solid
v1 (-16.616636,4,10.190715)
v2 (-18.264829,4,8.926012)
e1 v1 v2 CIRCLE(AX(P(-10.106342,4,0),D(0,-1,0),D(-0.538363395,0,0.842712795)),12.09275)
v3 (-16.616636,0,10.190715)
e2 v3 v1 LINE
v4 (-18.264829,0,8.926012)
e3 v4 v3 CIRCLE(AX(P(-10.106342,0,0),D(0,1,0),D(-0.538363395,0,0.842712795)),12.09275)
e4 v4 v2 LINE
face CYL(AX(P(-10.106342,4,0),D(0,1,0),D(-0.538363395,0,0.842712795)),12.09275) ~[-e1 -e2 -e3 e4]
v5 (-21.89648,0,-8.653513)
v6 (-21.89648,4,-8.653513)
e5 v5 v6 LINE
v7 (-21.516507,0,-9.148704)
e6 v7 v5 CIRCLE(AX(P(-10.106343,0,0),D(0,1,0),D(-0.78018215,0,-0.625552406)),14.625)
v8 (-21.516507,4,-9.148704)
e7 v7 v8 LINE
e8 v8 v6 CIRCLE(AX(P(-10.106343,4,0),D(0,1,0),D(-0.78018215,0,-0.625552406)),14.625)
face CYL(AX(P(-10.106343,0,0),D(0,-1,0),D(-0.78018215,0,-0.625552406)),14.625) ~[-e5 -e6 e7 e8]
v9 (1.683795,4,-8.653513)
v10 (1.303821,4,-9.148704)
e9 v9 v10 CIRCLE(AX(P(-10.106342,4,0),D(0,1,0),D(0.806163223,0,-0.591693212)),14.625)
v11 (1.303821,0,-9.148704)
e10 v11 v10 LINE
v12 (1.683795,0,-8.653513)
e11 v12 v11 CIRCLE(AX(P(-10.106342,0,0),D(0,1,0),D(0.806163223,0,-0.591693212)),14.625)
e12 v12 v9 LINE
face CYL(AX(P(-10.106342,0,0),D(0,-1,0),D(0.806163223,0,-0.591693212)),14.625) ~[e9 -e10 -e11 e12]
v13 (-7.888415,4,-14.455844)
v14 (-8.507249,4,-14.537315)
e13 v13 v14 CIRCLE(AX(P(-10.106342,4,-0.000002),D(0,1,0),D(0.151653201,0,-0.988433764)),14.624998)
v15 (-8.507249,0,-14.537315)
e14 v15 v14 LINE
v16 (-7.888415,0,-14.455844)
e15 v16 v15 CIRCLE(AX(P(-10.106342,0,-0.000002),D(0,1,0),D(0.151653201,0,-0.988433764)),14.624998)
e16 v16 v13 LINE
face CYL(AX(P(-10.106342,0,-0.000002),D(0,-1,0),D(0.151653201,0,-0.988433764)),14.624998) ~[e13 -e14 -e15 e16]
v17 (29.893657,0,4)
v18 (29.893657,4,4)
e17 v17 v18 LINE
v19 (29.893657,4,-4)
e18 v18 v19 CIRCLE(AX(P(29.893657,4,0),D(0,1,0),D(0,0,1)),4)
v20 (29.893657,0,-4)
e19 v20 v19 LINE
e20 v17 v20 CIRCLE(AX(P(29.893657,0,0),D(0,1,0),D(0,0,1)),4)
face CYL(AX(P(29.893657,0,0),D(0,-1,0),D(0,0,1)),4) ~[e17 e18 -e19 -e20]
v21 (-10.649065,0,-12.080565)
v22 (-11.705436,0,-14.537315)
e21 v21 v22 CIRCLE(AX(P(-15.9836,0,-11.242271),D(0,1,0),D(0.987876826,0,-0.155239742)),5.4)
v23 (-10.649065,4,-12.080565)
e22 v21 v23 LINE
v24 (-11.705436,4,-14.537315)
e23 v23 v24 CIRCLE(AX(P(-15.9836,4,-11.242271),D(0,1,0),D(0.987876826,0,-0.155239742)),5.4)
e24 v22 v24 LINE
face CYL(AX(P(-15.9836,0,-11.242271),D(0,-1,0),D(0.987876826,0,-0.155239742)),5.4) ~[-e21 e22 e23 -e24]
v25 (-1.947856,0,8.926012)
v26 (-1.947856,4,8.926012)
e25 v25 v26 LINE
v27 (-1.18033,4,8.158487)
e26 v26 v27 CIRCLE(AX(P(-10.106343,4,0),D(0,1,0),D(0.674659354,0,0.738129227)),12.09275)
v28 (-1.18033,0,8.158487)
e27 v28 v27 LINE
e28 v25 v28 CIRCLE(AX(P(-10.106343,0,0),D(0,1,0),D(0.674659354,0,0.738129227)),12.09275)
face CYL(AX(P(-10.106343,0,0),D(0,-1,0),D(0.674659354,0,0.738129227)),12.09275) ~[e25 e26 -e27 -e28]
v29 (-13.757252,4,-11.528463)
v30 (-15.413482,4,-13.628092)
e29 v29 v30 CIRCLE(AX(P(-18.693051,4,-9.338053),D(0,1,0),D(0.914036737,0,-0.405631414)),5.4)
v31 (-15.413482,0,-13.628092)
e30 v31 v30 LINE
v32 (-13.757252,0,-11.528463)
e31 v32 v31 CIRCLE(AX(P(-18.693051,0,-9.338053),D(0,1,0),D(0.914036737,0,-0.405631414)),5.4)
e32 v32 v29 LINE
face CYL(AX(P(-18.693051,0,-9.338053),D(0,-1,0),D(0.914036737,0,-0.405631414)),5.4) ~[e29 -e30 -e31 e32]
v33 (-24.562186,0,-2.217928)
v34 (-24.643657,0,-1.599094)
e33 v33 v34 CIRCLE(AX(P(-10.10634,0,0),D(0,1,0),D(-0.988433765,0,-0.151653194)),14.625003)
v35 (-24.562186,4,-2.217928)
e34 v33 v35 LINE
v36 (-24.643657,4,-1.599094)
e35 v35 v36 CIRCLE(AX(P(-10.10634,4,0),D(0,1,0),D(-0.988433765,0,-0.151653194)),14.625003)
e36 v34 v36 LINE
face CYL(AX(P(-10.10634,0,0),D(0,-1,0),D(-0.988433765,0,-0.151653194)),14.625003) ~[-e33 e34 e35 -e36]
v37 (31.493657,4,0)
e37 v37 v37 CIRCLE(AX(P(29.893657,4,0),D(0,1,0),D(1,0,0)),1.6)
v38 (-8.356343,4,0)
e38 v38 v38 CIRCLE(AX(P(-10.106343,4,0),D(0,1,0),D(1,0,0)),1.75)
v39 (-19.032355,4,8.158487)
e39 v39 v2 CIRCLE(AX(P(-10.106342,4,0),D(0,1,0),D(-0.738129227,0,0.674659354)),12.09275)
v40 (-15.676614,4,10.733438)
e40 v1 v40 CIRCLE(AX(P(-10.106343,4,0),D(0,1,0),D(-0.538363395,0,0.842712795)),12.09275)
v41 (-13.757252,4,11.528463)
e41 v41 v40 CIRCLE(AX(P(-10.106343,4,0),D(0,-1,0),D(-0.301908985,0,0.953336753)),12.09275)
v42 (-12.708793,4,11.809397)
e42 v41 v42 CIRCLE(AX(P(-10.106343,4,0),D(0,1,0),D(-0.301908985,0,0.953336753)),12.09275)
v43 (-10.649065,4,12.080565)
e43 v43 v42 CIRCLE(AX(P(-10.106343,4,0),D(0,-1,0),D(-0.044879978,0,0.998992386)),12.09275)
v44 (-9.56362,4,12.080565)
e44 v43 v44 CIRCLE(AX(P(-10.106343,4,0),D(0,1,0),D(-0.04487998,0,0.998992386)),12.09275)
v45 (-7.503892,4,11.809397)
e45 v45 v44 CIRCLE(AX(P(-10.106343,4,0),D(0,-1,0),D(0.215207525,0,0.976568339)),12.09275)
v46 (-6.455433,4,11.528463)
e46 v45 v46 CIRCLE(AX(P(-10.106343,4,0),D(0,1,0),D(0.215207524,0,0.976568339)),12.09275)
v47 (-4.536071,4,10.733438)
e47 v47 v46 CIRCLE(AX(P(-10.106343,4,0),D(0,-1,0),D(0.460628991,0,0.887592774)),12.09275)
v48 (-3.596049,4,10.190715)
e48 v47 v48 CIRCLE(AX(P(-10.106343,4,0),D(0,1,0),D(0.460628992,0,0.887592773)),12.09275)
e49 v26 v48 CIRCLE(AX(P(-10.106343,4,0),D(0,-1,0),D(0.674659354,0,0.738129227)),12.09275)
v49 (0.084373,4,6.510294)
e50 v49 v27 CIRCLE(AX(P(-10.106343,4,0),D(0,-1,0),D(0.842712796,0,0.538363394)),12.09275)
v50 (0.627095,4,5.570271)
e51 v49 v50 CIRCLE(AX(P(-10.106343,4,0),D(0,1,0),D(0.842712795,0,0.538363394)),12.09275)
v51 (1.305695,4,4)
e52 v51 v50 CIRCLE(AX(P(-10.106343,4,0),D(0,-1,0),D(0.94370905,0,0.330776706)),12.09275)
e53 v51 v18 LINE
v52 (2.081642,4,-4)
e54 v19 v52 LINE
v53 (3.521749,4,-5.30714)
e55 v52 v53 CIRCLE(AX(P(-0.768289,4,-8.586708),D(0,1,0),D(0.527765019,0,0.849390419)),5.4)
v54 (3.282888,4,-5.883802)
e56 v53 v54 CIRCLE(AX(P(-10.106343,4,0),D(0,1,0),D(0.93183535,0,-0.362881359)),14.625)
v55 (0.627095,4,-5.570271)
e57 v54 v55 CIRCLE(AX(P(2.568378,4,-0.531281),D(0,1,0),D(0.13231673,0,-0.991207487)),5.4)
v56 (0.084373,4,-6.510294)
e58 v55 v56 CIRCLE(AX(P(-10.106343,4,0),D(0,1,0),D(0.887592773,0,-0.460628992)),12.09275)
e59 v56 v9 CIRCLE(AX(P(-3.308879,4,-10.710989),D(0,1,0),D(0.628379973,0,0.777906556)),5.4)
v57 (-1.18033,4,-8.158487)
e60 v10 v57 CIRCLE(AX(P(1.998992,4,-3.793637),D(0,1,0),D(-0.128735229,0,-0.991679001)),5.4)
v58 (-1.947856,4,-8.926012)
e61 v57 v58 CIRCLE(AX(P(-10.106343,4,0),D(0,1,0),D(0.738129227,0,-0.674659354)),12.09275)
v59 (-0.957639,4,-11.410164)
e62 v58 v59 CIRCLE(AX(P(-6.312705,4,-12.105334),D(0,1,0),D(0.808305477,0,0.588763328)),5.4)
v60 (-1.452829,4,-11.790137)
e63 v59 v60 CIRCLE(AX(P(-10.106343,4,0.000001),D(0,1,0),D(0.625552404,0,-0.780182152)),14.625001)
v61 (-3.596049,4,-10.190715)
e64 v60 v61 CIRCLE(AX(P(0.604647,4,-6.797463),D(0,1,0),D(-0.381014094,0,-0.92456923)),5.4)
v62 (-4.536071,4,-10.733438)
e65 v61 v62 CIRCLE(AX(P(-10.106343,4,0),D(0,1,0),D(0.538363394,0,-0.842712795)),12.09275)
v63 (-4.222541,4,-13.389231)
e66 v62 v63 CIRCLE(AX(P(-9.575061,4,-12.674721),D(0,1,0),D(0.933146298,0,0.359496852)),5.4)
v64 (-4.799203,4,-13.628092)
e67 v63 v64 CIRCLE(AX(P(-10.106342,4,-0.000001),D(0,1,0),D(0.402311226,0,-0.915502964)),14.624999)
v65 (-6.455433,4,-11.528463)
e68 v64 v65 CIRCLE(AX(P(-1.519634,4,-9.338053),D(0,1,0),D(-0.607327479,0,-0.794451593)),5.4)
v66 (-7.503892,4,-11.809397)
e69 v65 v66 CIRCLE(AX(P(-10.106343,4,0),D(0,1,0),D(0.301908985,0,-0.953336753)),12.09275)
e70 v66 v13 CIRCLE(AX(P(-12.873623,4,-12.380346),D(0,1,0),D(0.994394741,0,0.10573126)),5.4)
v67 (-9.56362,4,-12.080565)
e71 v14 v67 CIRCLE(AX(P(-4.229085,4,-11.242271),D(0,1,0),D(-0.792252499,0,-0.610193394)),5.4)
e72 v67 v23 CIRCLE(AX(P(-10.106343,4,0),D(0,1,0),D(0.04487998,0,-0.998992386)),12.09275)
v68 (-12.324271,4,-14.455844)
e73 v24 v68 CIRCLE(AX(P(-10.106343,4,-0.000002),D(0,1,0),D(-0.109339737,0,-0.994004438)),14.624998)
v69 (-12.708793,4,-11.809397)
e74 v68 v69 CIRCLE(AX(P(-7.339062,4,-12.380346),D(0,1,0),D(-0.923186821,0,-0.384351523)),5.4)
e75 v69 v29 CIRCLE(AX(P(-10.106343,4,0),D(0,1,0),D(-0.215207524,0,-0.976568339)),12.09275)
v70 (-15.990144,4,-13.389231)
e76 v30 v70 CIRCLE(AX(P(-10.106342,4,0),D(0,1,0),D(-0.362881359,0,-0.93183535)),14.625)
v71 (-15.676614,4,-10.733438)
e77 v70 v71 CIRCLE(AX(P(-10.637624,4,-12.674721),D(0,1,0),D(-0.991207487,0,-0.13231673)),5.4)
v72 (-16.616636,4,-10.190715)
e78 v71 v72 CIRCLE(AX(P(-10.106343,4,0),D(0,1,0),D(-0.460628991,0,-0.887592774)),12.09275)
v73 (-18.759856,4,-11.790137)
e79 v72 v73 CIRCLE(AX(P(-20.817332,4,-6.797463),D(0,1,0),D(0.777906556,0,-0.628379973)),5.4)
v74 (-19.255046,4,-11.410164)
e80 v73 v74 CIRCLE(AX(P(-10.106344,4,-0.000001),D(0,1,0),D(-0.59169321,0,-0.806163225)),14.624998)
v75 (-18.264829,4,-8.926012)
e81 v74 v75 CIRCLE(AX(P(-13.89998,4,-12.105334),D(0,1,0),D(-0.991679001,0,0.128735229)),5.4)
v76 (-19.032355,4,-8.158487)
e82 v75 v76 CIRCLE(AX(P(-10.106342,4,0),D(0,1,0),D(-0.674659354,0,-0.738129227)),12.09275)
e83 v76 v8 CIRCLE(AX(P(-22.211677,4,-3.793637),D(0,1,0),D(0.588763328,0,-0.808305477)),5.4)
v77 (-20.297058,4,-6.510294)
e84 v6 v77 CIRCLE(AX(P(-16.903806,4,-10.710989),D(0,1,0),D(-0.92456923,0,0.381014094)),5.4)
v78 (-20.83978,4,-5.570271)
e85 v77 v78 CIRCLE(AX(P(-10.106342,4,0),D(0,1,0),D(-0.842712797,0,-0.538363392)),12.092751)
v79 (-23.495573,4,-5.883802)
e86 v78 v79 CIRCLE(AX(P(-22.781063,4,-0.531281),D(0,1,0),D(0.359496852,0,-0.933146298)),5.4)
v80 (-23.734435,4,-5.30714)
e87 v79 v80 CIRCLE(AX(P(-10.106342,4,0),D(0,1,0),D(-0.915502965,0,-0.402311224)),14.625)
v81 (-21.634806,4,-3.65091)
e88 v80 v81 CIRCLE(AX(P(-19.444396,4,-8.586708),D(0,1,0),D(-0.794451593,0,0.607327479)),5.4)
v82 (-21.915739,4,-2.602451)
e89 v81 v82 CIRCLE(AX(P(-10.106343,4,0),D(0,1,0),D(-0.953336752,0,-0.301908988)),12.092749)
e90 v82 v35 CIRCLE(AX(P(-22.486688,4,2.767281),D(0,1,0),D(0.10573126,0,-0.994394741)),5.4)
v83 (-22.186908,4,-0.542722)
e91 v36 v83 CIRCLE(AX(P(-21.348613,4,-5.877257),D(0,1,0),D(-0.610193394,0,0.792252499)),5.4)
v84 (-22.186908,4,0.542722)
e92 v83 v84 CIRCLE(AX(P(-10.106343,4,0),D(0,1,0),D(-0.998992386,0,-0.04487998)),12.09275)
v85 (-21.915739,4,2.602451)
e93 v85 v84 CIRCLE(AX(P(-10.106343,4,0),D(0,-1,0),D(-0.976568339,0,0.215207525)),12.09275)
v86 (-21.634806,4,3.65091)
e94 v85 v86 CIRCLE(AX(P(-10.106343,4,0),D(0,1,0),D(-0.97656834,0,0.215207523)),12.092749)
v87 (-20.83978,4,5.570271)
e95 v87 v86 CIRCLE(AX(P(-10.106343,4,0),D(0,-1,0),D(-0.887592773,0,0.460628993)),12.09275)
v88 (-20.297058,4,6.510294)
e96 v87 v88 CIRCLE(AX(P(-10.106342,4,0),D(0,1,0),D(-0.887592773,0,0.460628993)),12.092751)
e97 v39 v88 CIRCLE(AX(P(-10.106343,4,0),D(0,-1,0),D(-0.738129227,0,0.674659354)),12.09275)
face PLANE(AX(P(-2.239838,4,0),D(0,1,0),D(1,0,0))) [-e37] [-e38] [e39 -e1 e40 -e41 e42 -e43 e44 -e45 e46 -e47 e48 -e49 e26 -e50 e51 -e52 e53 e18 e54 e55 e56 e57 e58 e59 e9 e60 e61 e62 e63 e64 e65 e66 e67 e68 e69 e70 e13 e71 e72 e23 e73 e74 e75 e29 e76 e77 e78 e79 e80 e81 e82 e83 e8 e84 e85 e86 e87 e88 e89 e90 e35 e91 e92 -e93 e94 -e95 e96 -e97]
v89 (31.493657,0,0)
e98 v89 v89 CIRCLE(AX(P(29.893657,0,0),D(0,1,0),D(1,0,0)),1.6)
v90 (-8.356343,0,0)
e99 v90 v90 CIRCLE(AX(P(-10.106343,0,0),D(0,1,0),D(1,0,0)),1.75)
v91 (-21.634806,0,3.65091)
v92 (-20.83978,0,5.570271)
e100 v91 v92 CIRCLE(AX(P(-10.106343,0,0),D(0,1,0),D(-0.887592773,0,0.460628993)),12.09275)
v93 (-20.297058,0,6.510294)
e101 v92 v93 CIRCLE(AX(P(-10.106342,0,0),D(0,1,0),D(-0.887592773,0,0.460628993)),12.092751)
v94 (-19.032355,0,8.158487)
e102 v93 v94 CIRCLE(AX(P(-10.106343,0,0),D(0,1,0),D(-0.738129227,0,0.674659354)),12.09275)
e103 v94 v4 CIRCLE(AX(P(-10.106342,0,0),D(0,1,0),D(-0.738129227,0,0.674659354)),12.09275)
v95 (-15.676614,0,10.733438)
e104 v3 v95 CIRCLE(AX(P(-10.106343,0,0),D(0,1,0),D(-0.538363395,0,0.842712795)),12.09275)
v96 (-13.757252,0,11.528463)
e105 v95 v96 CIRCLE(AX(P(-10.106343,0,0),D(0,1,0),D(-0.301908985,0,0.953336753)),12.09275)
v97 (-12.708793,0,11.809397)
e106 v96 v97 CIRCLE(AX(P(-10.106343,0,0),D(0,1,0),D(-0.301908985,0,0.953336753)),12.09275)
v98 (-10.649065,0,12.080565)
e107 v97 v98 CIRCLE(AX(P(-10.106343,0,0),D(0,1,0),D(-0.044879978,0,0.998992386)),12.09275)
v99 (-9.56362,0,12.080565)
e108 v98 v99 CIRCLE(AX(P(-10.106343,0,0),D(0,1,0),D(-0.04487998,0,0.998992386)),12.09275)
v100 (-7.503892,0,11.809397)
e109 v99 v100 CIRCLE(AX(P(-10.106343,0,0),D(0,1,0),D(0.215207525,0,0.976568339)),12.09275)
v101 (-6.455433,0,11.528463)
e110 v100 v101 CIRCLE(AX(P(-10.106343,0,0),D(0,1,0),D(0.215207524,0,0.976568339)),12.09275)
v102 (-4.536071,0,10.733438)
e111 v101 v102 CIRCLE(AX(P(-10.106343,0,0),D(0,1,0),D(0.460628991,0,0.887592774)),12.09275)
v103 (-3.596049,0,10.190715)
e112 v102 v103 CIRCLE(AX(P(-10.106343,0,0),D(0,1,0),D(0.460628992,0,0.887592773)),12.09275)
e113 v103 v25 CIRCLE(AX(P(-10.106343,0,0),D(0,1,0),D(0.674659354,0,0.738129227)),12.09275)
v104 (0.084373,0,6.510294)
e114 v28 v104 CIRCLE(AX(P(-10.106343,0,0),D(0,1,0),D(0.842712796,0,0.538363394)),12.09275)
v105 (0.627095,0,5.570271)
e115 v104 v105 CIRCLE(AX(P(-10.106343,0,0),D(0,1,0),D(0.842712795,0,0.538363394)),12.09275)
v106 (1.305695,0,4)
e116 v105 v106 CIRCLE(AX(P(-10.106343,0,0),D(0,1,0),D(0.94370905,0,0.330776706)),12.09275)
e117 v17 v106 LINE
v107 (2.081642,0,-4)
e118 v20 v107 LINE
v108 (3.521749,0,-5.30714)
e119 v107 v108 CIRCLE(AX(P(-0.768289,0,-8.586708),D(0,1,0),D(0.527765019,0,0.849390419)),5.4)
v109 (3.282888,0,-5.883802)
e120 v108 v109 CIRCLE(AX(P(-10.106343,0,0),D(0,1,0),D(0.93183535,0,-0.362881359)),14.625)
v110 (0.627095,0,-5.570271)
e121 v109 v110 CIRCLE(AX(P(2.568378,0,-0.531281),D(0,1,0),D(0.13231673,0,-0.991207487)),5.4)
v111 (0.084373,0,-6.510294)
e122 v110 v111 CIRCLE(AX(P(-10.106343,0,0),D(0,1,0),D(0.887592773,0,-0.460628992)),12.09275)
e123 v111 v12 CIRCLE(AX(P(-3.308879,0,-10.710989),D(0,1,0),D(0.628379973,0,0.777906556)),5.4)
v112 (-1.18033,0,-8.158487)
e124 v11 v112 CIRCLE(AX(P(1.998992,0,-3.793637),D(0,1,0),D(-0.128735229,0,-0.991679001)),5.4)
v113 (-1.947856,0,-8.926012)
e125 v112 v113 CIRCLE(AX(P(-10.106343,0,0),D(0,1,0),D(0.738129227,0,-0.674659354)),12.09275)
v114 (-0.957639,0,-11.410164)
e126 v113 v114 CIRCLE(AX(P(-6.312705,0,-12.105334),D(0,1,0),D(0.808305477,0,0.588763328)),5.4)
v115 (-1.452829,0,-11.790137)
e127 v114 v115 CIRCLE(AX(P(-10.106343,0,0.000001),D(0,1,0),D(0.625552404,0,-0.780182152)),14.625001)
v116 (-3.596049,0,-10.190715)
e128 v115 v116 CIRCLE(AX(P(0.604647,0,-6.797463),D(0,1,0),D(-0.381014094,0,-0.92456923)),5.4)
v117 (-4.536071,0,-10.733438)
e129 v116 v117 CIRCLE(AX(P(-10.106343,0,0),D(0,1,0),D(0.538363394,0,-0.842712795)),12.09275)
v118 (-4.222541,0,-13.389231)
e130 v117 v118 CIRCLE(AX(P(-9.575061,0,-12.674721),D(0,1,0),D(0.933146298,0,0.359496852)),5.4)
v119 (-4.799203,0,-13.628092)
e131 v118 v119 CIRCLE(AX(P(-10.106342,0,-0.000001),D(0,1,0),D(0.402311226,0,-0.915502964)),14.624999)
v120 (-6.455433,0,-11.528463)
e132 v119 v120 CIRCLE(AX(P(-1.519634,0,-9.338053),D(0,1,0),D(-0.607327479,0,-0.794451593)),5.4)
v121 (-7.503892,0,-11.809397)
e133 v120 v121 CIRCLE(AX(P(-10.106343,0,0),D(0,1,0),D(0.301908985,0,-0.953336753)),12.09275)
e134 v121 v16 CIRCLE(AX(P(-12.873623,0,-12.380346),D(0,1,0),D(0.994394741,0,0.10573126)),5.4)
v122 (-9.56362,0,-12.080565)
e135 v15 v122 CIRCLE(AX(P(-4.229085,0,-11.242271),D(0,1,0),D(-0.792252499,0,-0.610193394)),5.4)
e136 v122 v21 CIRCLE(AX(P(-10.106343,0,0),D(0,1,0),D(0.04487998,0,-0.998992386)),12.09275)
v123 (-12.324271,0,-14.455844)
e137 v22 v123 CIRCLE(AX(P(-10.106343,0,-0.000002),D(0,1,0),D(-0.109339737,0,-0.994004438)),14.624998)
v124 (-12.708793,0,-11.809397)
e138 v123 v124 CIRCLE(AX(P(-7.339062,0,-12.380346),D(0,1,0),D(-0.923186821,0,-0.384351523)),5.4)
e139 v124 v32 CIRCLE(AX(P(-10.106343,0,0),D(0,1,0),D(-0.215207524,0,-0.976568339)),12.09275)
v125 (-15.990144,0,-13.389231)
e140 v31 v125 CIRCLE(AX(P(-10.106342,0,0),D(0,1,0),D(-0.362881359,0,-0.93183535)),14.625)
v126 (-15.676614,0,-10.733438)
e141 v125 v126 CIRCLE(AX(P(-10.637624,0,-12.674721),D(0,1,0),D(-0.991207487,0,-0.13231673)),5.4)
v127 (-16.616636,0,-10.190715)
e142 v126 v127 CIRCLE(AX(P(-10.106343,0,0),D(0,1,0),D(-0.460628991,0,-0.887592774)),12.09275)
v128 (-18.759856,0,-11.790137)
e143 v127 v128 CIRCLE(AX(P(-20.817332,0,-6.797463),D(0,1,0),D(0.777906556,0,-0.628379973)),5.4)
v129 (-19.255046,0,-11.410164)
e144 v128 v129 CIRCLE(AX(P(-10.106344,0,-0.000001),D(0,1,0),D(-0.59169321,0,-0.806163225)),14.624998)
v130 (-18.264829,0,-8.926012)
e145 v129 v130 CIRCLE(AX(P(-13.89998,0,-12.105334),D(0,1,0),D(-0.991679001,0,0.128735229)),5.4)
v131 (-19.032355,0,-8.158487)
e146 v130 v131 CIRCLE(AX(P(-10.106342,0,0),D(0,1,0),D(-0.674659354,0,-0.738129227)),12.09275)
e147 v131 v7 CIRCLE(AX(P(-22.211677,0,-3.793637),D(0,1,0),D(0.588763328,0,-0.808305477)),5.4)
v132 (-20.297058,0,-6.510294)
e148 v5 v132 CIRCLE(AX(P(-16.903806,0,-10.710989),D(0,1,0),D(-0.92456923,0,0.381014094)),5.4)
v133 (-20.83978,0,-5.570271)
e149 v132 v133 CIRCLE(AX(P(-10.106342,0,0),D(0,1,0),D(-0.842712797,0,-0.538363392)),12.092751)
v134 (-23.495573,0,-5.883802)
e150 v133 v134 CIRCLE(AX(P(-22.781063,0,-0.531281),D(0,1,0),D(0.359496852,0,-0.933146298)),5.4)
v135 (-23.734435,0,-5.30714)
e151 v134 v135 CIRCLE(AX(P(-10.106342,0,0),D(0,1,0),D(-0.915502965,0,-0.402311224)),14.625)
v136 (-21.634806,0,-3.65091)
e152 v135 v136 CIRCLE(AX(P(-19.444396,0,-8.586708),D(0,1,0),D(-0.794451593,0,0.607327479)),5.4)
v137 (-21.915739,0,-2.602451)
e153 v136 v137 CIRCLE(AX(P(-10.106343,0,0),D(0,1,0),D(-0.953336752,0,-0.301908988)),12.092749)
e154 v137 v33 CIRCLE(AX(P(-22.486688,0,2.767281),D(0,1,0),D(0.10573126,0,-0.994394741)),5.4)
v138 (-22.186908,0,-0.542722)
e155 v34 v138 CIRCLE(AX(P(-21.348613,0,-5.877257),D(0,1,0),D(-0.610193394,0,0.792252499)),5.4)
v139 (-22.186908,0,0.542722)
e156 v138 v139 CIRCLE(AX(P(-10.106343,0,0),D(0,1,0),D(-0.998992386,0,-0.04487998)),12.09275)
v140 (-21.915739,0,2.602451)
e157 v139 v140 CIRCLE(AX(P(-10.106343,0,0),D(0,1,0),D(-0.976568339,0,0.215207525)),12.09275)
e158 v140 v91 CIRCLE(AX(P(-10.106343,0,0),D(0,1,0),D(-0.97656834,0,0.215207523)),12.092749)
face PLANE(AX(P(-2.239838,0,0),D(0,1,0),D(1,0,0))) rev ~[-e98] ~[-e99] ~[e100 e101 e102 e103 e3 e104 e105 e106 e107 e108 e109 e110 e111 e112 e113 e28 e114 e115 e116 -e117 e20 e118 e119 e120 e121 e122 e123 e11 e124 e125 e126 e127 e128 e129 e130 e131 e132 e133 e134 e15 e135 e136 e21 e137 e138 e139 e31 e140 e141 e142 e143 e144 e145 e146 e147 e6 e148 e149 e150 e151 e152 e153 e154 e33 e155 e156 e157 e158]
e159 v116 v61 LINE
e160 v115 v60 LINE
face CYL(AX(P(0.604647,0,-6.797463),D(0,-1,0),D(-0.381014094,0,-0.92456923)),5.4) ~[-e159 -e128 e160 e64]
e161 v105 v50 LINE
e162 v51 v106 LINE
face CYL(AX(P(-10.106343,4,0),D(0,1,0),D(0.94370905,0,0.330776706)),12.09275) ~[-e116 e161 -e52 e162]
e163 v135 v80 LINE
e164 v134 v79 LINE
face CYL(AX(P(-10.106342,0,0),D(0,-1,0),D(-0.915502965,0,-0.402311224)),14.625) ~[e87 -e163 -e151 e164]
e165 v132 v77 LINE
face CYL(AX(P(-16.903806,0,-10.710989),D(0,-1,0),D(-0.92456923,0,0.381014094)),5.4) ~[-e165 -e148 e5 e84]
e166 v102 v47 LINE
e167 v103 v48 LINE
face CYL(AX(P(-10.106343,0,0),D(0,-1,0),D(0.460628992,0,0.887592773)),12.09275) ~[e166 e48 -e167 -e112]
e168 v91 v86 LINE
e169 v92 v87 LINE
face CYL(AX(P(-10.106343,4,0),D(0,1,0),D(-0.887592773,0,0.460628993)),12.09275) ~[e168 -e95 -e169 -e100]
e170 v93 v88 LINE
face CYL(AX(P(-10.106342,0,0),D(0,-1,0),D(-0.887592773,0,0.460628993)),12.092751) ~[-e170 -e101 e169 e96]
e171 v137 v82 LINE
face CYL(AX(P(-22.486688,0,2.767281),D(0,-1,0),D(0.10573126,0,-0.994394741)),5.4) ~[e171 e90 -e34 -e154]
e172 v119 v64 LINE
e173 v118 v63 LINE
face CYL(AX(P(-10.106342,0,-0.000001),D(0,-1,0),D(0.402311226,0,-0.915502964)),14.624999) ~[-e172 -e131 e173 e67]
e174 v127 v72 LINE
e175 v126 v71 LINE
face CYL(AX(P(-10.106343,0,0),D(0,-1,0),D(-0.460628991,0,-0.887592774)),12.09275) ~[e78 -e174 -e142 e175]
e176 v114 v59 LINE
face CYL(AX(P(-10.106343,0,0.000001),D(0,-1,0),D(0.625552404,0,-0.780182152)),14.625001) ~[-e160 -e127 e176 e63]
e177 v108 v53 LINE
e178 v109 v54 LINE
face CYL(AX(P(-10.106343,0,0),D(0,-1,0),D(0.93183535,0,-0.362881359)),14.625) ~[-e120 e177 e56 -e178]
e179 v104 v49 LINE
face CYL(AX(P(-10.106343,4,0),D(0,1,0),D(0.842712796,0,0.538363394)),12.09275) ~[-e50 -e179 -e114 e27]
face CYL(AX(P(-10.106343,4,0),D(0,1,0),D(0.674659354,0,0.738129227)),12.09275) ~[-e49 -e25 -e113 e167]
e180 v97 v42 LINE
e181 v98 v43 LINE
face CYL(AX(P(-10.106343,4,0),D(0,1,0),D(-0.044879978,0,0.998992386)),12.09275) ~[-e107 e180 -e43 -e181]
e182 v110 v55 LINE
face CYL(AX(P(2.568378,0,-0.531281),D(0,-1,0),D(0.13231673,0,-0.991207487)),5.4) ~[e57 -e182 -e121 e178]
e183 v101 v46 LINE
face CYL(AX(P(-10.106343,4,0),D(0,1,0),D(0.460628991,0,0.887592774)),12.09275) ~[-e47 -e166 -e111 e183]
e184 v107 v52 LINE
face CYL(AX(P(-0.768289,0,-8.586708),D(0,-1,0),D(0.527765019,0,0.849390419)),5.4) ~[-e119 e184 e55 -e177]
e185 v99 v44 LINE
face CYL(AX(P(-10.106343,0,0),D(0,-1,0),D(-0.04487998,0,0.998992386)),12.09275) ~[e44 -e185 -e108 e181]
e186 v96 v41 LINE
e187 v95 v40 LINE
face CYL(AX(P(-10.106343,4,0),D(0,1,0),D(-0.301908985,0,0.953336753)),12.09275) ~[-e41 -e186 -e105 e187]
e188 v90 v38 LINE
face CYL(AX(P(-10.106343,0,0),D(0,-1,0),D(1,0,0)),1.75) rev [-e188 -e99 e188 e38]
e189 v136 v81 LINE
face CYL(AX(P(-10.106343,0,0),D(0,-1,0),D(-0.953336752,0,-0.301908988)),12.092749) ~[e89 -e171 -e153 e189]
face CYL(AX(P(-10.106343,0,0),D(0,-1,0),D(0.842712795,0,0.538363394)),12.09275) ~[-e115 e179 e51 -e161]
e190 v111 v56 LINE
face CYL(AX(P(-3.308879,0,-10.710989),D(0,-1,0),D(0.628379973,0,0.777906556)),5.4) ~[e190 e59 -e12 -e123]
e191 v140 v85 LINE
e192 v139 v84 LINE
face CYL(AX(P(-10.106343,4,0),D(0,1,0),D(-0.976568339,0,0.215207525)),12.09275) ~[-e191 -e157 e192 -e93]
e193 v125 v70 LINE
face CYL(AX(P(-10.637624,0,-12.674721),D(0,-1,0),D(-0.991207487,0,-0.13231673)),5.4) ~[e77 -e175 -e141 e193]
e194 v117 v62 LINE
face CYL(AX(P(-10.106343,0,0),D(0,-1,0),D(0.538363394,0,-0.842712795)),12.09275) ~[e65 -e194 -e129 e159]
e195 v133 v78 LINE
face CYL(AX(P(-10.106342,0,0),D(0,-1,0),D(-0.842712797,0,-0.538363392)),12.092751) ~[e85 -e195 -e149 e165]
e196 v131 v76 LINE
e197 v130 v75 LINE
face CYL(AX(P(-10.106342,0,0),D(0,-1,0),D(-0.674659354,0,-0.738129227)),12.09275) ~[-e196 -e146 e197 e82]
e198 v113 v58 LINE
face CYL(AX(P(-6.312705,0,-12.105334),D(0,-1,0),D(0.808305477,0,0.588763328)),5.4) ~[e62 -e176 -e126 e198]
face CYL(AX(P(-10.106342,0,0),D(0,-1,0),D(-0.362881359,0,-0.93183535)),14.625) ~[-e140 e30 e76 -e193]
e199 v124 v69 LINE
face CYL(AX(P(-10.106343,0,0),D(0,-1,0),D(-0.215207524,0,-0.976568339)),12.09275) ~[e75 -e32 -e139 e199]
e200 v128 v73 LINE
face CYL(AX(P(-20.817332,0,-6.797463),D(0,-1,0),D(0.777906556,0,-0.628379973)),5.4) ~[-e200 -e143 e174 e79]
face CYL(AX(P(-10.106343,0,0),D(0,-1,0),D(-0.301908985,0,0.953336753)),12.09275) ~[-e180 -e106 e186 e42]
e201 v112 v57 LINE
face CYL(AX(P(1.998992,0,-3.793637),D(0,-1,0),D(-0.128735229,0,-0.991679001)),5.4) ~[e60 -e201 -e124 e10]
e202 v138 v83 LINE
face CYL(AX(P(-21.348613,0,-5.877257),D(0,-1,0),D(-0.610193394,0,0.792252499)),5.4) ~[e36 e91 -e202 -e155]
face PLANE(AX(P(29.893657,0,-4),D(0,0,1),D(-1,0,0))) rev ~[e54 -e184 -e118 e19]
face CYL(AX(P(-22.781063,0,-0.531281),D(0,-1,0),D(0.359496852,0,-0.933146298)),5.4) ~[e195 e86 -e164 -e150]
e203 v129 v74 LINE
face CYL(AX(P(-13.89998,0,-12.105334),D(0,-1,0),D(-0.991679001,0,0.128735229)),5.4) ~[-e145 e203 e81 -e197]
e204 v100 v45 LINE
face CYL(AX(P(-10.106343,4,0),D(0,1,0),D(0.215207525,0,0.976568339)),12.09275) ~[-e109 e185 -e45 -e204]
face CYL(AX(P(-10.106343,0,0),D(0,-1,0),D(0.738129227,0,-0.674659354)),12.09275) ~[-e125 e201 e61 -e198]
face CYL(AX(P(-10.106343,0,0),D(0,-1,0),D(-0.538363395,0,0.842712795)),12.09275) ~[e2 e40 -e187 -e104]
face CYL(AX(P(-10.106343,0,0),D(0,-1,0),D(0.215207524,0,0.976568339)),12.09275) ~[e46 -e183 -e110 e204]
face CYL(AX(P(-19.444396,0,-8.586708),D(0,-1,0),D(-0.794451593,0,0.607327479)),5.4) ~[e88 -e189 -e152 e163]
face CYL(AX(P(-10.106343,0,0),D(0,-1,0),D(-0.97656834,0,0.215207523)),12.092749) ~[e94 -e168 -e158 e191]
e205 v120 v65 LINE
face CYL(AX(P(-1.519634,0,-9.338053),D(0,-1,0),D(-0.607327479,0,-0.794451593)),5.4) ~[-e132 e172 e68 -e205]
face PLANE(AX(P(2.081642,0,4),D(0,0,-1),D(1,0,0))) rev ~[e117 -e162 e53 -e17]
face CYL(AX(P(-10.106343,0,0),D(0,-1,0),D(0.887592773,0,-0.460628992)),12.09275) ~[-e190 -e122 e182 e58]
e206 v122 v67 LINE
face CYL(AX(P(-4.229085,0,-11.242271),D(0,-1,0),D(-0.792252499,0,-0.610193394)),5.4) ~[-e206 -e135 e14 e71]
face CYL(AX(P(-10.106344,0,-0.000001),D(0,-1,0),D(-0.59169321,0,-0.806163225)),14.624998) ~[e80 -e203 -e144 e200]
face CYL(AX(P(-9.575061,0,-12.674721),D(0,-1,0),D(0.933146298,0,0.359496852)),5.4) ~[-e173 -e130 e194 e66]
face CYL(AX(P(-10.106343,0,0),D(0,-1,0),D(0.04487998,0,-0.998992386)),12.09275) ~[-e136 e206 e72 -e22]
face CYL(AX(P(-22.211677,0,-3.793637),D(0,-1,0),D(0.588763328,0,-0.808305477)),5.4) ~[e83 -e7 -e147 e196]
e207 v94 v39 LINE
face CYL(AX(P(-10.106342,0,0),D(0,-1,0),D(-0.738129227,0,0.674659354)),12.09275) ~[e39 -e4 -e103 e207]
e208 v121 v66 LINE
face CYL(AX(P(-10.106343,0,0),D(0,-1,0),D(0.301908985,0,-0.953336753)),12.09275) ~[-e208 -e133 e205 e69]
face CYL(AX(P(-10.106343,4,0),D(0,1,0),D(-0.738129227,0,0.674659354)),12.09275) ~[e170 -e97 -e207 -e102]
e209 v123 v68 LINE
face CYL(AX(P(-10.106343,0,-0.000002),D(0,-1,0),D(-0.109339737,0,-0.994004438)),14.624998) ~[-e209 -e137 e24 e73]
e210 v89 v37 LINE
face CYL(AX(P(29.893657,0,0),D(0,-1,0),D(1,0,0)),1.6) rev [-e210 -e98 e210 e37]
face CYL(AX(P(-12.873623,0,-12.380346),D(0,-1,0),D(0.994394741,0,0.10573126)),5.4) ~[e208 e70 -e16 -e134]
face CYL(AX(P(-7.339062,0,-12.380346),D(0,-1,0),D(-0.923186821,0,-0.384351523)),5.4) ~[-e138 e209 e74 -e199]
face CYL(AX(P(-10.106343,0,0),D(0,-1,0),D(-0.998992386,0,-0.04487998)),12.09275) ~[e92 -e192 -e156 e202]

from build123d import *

# Parameters (mm, degrees)
SKETCH1_R           = 1.75
SKETCH1_R_2         = 1.6
BOSS_EXTRUDE1_DEPTH = 4
CUT_EXTRUDE1_DEPTH  = 10


with BuildPart() as part:
    # Sketch1 → Boss-Extrude1 (new body)
    with BuildSketch(Plane(origin=(0, 0, 0), x_dir=(1, 0, 0), z_dir=(0, 1, 0))):
        with BuildLine():
            Line((29.893657446, 4), (2.081641936, 4))
            ThreePointArc((2.081641936, 4), (2.861028333, 4.588201733), (3.521749436, 5.30713988))
            ThreePointArc((3.521749436, 5.30713988), (3.405395609, 5.596745198), (3.282888305, 5.883801663))
            ThreePointArc((3.282888305, 5.883801663), (1.93527598, 5.894040025), (0.627094961, 5.57027124))
            ThreePointArc((0.627094961, 5.57027124), (0.366286148, 6.046375), (0.084372603, 6.510293938))
            ThreePointArc((0.084372603, 6.510293938), (1.018855105, 7.48132754), (1.683794586, 8.65351323))
            ThreePointArc((1.683794586, 8.65351323), (1.496450048, 8.903135899), (1.303821399, 9.148703928))
            ThreePointArc((1.303821399, 9.148703928), (-0.000522033, 8.809805691), (-1.180330337, 8.158486898))
            ThreePointArc((-1.180330337, 8.158486898), (-1.555477026, 8.550865528), (-1.947855656, 8.926012217))
            ThreePointArc((-1.947855656, 8.926012217), (-1.296536862, 10.105820521), (-0.957638625, 11.410163953))
            ThreePointArc((-0.957638625, 11.410163953), (-1.203206655, 11.602792602), (-1.452829324, 11.79013714))
            ThreePointArc((-1.452829324, 11.79013714), (-2.625015014, 11.125197659), (-3.596048616, 10.190715157))
            ThreePointArc((-3.596048616, 10.190715157), (-4.059967554, 10.472628702), (-4.536071314, 10.733437515))
            ThreePointArc((-4.536071314, 10.733437515), (-4.212302529, 12.041618533), (-4.222540891, 13.389230859))
            ThreePointArc((-4.222540891, 13.389230859), (-4.509597355, 13.511738163), (-4.799202674, 13.62809199))
            ThreePointArc((-4.799202674, 13.62809199), (-5.759348103, 12.682425791), (-6.455432668, 11.528463019))
            ThreePointArc((-6.455432668, 11.528463019), (-6.976508546, 11.680699536), (-7.503891752, 11.809396783))
            ThreePointArc((-7.503891752, 11.809396783), (-7.529737283, 13.156800143), (-7.888414517, 14.455843809))
            ThreePointArc((-7.888414517, 14.455843809), (-8.197396993, 14.499881098), (-8.507248835, 14.537314892))
            ThreePointArc((-8.507248835, 14.537314892), (-9.18992168, 13.375367565), (-9.563620196, 12.080565177))
            ThreePointArc((-9.563620196, 12.080565177), (-10.106342554, 12.09275), (-10.649064912, 12.080565177))
            ThreePointArc((-10.649064912, 12.080565177), (-11.022763428, 13.375367565), (-11.705436272, 14.537314892))
            ThreePointArc((-11.705436272, 14.537314892), (-12.015288115, 14.499881098), (-12.324270591, 14.455843809))
            ThreePointArc((-12.324270591, 14.455843809), (-12.682947825, 13.156800143), (-12.708793355, 11.809396783))
            ThreePointArc((-12.708793355, 11.809396783), (-13.236176561, 11.680699536), (-13.757252439, 11.528463019))
            ThreePointArc((-13.757252439, 11.528463019), (-14.453337005, 12.682425791), (-15.413482434, 13.62809199))
            ThreePointArc((-15.413482434, 13.62809199), (-15.703087752, 13.511738163), (-15.990144217, 13.389230859))
            ThreePointArc((-15.990144217, 13.389230859), (-16.000382579, 12.041618533), (-15.676613793, 10.733437515))
            ThreePointArc((-15.676613793, 10.733437515), (-16.152717554, 10.472628702), (-16.616636492, 10.190715157))
            ThreePointArc((-16.616636492, 10.190715157), (-17.587670094, 11.125197659), (-18.759855783, 11.79013714))
            ThreePointArc((-18.759855783, 11.79013714), (-19.009478453, 11.602792602), (-19.255046482, 11.410163953))
            ThreePointArc((-19.255046482, 11.410163953), (-18.916148245, 10.105820521), (-18.264829452, 8.926012217))
            ThreePointArc((-18.264829452, 8.926012217), (-18.657208082, 8.550865528), (-19.032354771, 8.158486898))
            ThreePointArc((-19.032354771, 8.158486898), (-20.212163074, 8.809805691), (-21.516506507, 9.148703928))
            ThreePointArc((-21.516506507, 9.148703928), (-21.709135156, 8.903135899), (-21.896479694, 8.65351323))
            ThreePointArc((-21.896479694, 8.65351323), (-21.231540213, 7.48132754), (-20.297057711, 6.510293938))
            ThreePointArc((-20.297057711, 6.510293938), (-20.578971255, 6.046375), (-20.839780068, 5.57027124))
            ThreePointArc((-20.839780068, 5.57027124), (-22.147961087, 5.894040025), (-23.495573413, 5.883801663))
            ThreePointArc((-23.495573413, 5.883801663), (-23.618080717, 5.596745198), (-23.734434544, 5.30713988))
            ThreePointArc((-23.734434544, 5.30713988), (-22.788768345, 4.346994451), (-21.634805572, 3.650909885))
            ThreePointArc((-21.634805572, 3.650909885), (-21.78704209, 3.129834008), (-21.915739337, 2.602450802))
            ThreePointArc((-21.915739337, 2.602450802), (-23.263142697, 2.576605271), (-24.562186363, 2.217928037))
            ThreePointArc((-24.562186363, 2.217928037), (-24.606223651, 1.908945561), (-24.643657446, 1.599093719))
            ThreePointArc((-24.643657446, 1.599093719), (-23.481710119, 0.916420874), (-22.186907731, 0.542722358))
            ThreePointArc((-22.186907731, 0.542722358), (-22.199092554, 0), (-22.186907731, -0.542722358))
            ThreePointArc((-22.186907731, -0.542722358), (-23.481710119, -0.916420874), (-24.643657446, -1.599093719))
            ThreePointArc((-24.643657446, -1.599093719), (-24.606223651, -1.908945561), (-24.562186363, -2.217928037))
            ThreePointArc((-24.562186363, -2.217928037), (-23.263142697, -2.576605271), (-21.915739337, -2.602450802))
            ThreePointArc((-21.915739337, -2.602450802), (-21.78704209, -3.129834008), (-21.634805572, -3.650909885))
            ThreePointArc((-21.634805572, -3.650909885), (-22.788768345, -4.346994451), (-23.734434544, -5.30713988))
            ThreePointArc((-23.734434544, -5.30713988), (-23.618080717, -5.596745198), (-23.495573413, -5.883801663))
            ThreePointArc((-23.495573413, -5.883801663), (-22.147961087, -5.894040025), (-20.839780068, -5.57027124))
            ThreePointArc((-20.839780068, -5.57027124), (-20.578971255, -6.046375), (-20.297057711, -6.510293938))
            ThreePointArc((-20.297057711, -6.510293938), (-21.231540213, -7.48132754), (-21.896479694, -8.65351323))
            ThreePointArc((-21.896479694, -8.65351323), (-21.709135156, -8.903135899), (-21.516506507, -9.148703928))
            ThreePointArc((-21.516506507, -9.148703928), (-20.212163074, -8.809805691), (-19.032354771, -8.158486898))
            ThreePointArc((-19.032354771, -8.158486898), (-18.657208082, -8.550865528), (-18.264829452, -8.926012217))
            ThreePointArc((-18.264829452, -8.926012217), (-18.916148245, -10.105820521), (-19.255046482, -11.410163953))
            ThreePointArc((-19.255046482, -11.410163953), (-19.009478453, -11.602792602), (-18.759855783, -11.79013714))
            ThreePointArc((-18.759855783, -11.79013714), (-17.587670094, -11.125197659), (-16.616636492, -10.190715157))
            ThreePointArc((-16.616636492, -10.190715157), (-16.152717554, -10.472628702), (-15.676613793, -10.733437515))
            ThreePointArc((-15.676613793, -10.733437515), (-16.000382579, -12.041618533), (-15.990144217, -13.389230859))
            ThreePointArc((-15.990144217, -13.389230859), (-15.703087752, -13.511738163), (-15.413482434, -13.62809199))
            ThreePointArc((-15.413482434, -13.62809199), (-14.453337005, -12.682425791), (-13.757252439, -11.528463019))
            ThreePointArc((-13.757252439, -11.528463019), (-13.236176561, -11.680699536), (-12.708793355, -11.809396783))
            ThreePointArc((-12.708793355, -11.809396783), (-12.682947825, -13.156800143), (-12.324270591, -14.455843809))
            ThreePointArc((-12.324270591, -14.455843809), (-12.015288115, -14.499881098), (-11.705436272, -14.537314892))
            ThreePointArc((-11.705436272, -14.537314892), (-11.022763428, -13.375367565), (-10.649064912, -12.080565177))
            ThreePointArc((-10.649064912, -12.080565177), (-10.106342554, -12.09275), (-9.563620196, -12.080565177))
            ThreePointArc((-9.563620196, -12.080565177), (-9.18992168, -13.375367565), (-8.507248835, -14.537314892))
            ThreePointArc((-8.507248835, -14.537314892), (-8.197396993, -14.499881098), (-7.888414517, -14.455843809))
            ThreePointArc((-7.888414517, -14.455843809), (-7.529737283, -13.156800143), (-7.503891752, -11.809396783))
            ThreePointArc((-7.503891752, -11.809396783), (-6.976508546, -11.680699536), (-6.455432668, -11.528463019))
            ThreePointArc((-6.455432668, -11.528463019), (-5.759348103, -12.682425791), (-4.799202674, -13.62809199))
            ThreePointArc((-4.799202674, -13.62809199), (-4.509597355, -13.511738163), (-4.222540891, -13.389230859))
            ThreePointArc((-4.222540891, -13.389230859), (-4.212302529, -12.041618533), (-4.536071314, -10.733437515))
            ThreePointArc((-4.536071314, -10.733437515), (-4.059967554, -10.472628702), (-3.596048616, -10.190715157))
            ThreePointArc((-3.596048616, -10.190715157), (-2.625015014, -11.125197659), (-1.452829324, -11.79013714))
            ThreePointArc((-1.452829324, -11.79013714), (-1.203206655, -11.602792602), (-0.957638625, -11.410163953))
            ThreePointArc((-0.957638625, -11.410163953), (-1.296536862, -10.105820521), (-1.947855656, -8.926012217))
            ThreePointArc((-1.947855656, -8.926012217), (-1.555477026, -8.550865528), (-1.180330337, -8.158486898))
            ThreePointArc((-1.180330337, -8.158486898), (-0.000522033, -8.809805691), (1.303821399, -9.148703928))
            ThreePointArc((1.303821399, -9.148703928), (1.496450048, -8.903135899), (1.683794586, -8.65351323))
            ThreePointArc((1.683794586, -8.65351323), (1.018855105, -7.48132754), (0.084372603, -6.510293938))
            ThreePointArc((0.084372603, -6.510293938), (0.366286148, -6.046375), (0.627094961, -5.57027124))
            ThreePointArc((0.627094961, -5.57027124), (1.93527598, -5.894040025), (3.282888305, -5.883801663))
            ThreePointArc((3.282888305, -5.883801663), (3.405395609, -5.596745198), (3.521749436, -5.30713988))
            ThreePointArc((3.521749436, -5.30713988), (2.861028333, -4.588201733), (2.081641936, -4))
            Line((2.081641936, -4), (29.893657446, -4))
            ThreePointArc((29.893657446, -4), (33.893657446, 0), (29.893657446, 4))
        make_face()
        with Locations((-10.106342554, 0)):
            Circle(SKETCH1_R, mode=Mode.SUBTRACT)
        with Locations((29.893657446, 0)):
            Circle(SKETCH1_R_2, mode=Mode.SUBTRACT)
    extrude(amount=BOSS_EXTRUDE1_DEPTH)

    # Sketch2 → Cut-Extrude1 (cut)
    with BuildSketch(Plane(origin=(0, 4, 0), x_dir=(1, 0, 0), z_dir=(0, 1, 0))):
        with BuildLine():
            ThreePointArc((-24.562186363, -2.217928037), (-23.263142697, -2.576605271), (-21.915739337, -2.602450802))
            ThreePointArc((-21.915739337, -2.602450802), (-22.095637401, -1.578420611), (-22.186907731, -0.542722358))
            ThreePointArc((-22.186907731, -0.542722358), (-23.481710119, -0.916420874), (-24.643657446, -1.599093719))
            ThreePointArc((-24.643657446, -1.599093719), (-24.606223651, -1.908945561), (-24.562186363, -2.217928037))
        make_face()
        with BuildLine():
            ThreePointArc((-23.495573413, -5.883801663), (-22.147961087, -5.894040025), (-20.839780068, -5.57027124))
            ThreePointArc((-20.839780068, -5.57027124), (-21.278586771, -4.627695077), (-21.634805572, -3.650909885))
            ThreePointArc((-21.634805572, -3.650909885), (-22.788768345, -4.346994451), (-23.734434544, -5.30713988))
            ThreePointArc((-23.734434544, -5.30713988), (-23.618080717, -5.596745198), (-23.495573413, -5.883801663))
        make_face()
        with BuildLine():
            ThreePointArc((-21.516506507, -9.148703928), (-20.212163074, -8.809805691), (-19.032354771, -8.158486898))
            ThreePointArc((-19.032354771, -8.158486898), (-19.70016616, -7.361599771), (-20.297057711, -6.510293938))
            ThreePointArc((-20.297057711, -6.510293938), (-21.231540213, -7.48132754), (-21.896479694, -8.65351323))
            ThreePointArc((-21.896479694, -8.65351323), (-21.709135156, -8.903135899), (-21.516506507, -9.148703928))
        make_face()
        with BuildLine():
            ThreePointArc((-18.759855783, -11.79013714), (-17.587670094, -11.125197659), (-16.616636492, -10.190715157))
            ThreePointArc((-16.616636492, -10.190715157), (-17.467942324, -9.593823606), (-18.264829452, -8.926012217))
            ThreePointArc((-18.264829452, -8.926012217), (-18.916148245, -10.105820521), (-19.255046482, -11.410163953))
            ThreePointArc((-19.255046482, -11.410163953), (-19.009478453, -11.602792602), (-18.759855783, -11.79013714))
        make_face()
        with BuildLine():
            ThreePointArc((-15.413482434, -13.62809199), (-14.453337005, -12.682425791), (-13.757252439, -11.528463019))
            ThreePointArc((-13.757252439, -11.528463019), (-14.734037631, -11.172244217), (-15.676613793, -10.733437515))
            ThreePointArc((-15.676613793, -10.733437515), (-16.000382579, -12.041618533), (-15.990144217, -13.389230859))
            ThreePointArc((-15.990144217, -13.389230859), (-15.703087752, -13.511738163), (-15.413482434, -13.62809199))
        make_face()
        with BuildLine():
            ThreePointArc((-11.705436272, -14.537314892), (-11.022763428, -13.375367565), (-10.649064912, -12.080565177))
            ThreePointArc((-10.649064912, -12.080565177), (-11.684763165, -11.989294847), (-12.708793355, -11.809396783))
            ThreePointArc((-12.708793355, -11.809396783), (-12.682947825, -13.156800143), (-12.324270591, -14.455843809))
            ThreePointArc((-12.324270591, -14.455843809), (-12.015288115, -14.499881098), (-11.705436272, -14.537314892))
        make_face()
        with BuildLine():
            ThreePointArc((-7.888414517, -14.455843809), (-7.529737283, -13.156800143), (-7.503891752, -11.809396783))
            ThreePointArc((-7.503891752, -11.809396783), (-8.527921943, -11.989294847), (-9.563620196, -12.080565177))
            ThreePointArc((-9.563620196, -12.080565177), (-9.18992168, -13.375367565), (-8.507248835, -14.537314892))
            ThreePointArc((-8.507248835, -14.537314892), (-8.197396993, -14.499881098), (-7.888414517, -14.455843809))
        make_face()
        with BuildLine():
            ThreePointArc((-4.222540891, -13.389230859), (-4.212302529, -12.041618533), (-4.536071314, -10.733437515))
            ThreePointArc((-4.536071314, -10.733437515), (-5.478647477, -11.172244217), (-6.455432668, -11.528463019))
            ThreePointArc((-6.455432668, -11.528463019), (-5.759348103, -12.682425791), (-4.799202674, -13.62809199))
            ThreePointArc((-4.799202674, -13.62809199), (-4.509597355, -13.511738163), (-4.222540891, -13.389230859))
        make_face()
        with BuildLine():
            ThreePointArc((-0.957638625, -11.410163953), (-1.296536862, -10.105820521), (-1.947855656, -8.926012217))
            ThreePointArc((-1.947855656, -8.926012217), (-2.744742783, -9.593823606), (-3.596048616, -10.190715157))
            ThreePointArc((-3.596048616, -10.190715157), (-2.625015014, -11.125197659), (-1.452829324, -11.79013714))
            ThreePointArc((-1.452829324, -11.79013714), (-1.203206655, -11.602792602), (-0.957638625, -11.410163953))
        make_face()
        with BuildLine():
            ThreePointArc((1.683794586, -8.65351323), (1.018855105, -7.48132754), (0.084372603, -6.510293938))
            ThreePointArc((0.084372603, -6.510293938), (-0.512518948, -7.361599771), (-1.180330337, -8.158486898))
            ThreePointArc((-1.180330337, -8.158486898), (-0.000522033, -8.809805691), (1.303821399, -9.148703928))
            ThreePointArc((1.303821399, -9.148703928), (1.496450048, -8.903135899), (1.683794586, -8.65351323))
        make_face()
        with BuildLine():
            ThreePointArc((3.521749436, -5.30713988), (2.861028333, -4.588201733), (2.081641936, -4))
            Line((2.081641936, -4), (1.305695063, -4))
            ThreePointArc((1.305695063, -4), (0.994195953, -4.797149927), (0.627094961, -5.57027124))
            ThreePointArc((0.627094961, -5.57027124), (1.93527598, -5.894040025), (3.282888305, -5.883801663))
            ThreePointArc((3.282888305, -5.883801663), (3.405395609, -5.596745198), (3.521749436, -5.30713988))
        make_face()
    extrude(amount=-CUT_EXTRUDE1_DEPTH, mode=Mode.SUBTRACT)


solid = part.part
